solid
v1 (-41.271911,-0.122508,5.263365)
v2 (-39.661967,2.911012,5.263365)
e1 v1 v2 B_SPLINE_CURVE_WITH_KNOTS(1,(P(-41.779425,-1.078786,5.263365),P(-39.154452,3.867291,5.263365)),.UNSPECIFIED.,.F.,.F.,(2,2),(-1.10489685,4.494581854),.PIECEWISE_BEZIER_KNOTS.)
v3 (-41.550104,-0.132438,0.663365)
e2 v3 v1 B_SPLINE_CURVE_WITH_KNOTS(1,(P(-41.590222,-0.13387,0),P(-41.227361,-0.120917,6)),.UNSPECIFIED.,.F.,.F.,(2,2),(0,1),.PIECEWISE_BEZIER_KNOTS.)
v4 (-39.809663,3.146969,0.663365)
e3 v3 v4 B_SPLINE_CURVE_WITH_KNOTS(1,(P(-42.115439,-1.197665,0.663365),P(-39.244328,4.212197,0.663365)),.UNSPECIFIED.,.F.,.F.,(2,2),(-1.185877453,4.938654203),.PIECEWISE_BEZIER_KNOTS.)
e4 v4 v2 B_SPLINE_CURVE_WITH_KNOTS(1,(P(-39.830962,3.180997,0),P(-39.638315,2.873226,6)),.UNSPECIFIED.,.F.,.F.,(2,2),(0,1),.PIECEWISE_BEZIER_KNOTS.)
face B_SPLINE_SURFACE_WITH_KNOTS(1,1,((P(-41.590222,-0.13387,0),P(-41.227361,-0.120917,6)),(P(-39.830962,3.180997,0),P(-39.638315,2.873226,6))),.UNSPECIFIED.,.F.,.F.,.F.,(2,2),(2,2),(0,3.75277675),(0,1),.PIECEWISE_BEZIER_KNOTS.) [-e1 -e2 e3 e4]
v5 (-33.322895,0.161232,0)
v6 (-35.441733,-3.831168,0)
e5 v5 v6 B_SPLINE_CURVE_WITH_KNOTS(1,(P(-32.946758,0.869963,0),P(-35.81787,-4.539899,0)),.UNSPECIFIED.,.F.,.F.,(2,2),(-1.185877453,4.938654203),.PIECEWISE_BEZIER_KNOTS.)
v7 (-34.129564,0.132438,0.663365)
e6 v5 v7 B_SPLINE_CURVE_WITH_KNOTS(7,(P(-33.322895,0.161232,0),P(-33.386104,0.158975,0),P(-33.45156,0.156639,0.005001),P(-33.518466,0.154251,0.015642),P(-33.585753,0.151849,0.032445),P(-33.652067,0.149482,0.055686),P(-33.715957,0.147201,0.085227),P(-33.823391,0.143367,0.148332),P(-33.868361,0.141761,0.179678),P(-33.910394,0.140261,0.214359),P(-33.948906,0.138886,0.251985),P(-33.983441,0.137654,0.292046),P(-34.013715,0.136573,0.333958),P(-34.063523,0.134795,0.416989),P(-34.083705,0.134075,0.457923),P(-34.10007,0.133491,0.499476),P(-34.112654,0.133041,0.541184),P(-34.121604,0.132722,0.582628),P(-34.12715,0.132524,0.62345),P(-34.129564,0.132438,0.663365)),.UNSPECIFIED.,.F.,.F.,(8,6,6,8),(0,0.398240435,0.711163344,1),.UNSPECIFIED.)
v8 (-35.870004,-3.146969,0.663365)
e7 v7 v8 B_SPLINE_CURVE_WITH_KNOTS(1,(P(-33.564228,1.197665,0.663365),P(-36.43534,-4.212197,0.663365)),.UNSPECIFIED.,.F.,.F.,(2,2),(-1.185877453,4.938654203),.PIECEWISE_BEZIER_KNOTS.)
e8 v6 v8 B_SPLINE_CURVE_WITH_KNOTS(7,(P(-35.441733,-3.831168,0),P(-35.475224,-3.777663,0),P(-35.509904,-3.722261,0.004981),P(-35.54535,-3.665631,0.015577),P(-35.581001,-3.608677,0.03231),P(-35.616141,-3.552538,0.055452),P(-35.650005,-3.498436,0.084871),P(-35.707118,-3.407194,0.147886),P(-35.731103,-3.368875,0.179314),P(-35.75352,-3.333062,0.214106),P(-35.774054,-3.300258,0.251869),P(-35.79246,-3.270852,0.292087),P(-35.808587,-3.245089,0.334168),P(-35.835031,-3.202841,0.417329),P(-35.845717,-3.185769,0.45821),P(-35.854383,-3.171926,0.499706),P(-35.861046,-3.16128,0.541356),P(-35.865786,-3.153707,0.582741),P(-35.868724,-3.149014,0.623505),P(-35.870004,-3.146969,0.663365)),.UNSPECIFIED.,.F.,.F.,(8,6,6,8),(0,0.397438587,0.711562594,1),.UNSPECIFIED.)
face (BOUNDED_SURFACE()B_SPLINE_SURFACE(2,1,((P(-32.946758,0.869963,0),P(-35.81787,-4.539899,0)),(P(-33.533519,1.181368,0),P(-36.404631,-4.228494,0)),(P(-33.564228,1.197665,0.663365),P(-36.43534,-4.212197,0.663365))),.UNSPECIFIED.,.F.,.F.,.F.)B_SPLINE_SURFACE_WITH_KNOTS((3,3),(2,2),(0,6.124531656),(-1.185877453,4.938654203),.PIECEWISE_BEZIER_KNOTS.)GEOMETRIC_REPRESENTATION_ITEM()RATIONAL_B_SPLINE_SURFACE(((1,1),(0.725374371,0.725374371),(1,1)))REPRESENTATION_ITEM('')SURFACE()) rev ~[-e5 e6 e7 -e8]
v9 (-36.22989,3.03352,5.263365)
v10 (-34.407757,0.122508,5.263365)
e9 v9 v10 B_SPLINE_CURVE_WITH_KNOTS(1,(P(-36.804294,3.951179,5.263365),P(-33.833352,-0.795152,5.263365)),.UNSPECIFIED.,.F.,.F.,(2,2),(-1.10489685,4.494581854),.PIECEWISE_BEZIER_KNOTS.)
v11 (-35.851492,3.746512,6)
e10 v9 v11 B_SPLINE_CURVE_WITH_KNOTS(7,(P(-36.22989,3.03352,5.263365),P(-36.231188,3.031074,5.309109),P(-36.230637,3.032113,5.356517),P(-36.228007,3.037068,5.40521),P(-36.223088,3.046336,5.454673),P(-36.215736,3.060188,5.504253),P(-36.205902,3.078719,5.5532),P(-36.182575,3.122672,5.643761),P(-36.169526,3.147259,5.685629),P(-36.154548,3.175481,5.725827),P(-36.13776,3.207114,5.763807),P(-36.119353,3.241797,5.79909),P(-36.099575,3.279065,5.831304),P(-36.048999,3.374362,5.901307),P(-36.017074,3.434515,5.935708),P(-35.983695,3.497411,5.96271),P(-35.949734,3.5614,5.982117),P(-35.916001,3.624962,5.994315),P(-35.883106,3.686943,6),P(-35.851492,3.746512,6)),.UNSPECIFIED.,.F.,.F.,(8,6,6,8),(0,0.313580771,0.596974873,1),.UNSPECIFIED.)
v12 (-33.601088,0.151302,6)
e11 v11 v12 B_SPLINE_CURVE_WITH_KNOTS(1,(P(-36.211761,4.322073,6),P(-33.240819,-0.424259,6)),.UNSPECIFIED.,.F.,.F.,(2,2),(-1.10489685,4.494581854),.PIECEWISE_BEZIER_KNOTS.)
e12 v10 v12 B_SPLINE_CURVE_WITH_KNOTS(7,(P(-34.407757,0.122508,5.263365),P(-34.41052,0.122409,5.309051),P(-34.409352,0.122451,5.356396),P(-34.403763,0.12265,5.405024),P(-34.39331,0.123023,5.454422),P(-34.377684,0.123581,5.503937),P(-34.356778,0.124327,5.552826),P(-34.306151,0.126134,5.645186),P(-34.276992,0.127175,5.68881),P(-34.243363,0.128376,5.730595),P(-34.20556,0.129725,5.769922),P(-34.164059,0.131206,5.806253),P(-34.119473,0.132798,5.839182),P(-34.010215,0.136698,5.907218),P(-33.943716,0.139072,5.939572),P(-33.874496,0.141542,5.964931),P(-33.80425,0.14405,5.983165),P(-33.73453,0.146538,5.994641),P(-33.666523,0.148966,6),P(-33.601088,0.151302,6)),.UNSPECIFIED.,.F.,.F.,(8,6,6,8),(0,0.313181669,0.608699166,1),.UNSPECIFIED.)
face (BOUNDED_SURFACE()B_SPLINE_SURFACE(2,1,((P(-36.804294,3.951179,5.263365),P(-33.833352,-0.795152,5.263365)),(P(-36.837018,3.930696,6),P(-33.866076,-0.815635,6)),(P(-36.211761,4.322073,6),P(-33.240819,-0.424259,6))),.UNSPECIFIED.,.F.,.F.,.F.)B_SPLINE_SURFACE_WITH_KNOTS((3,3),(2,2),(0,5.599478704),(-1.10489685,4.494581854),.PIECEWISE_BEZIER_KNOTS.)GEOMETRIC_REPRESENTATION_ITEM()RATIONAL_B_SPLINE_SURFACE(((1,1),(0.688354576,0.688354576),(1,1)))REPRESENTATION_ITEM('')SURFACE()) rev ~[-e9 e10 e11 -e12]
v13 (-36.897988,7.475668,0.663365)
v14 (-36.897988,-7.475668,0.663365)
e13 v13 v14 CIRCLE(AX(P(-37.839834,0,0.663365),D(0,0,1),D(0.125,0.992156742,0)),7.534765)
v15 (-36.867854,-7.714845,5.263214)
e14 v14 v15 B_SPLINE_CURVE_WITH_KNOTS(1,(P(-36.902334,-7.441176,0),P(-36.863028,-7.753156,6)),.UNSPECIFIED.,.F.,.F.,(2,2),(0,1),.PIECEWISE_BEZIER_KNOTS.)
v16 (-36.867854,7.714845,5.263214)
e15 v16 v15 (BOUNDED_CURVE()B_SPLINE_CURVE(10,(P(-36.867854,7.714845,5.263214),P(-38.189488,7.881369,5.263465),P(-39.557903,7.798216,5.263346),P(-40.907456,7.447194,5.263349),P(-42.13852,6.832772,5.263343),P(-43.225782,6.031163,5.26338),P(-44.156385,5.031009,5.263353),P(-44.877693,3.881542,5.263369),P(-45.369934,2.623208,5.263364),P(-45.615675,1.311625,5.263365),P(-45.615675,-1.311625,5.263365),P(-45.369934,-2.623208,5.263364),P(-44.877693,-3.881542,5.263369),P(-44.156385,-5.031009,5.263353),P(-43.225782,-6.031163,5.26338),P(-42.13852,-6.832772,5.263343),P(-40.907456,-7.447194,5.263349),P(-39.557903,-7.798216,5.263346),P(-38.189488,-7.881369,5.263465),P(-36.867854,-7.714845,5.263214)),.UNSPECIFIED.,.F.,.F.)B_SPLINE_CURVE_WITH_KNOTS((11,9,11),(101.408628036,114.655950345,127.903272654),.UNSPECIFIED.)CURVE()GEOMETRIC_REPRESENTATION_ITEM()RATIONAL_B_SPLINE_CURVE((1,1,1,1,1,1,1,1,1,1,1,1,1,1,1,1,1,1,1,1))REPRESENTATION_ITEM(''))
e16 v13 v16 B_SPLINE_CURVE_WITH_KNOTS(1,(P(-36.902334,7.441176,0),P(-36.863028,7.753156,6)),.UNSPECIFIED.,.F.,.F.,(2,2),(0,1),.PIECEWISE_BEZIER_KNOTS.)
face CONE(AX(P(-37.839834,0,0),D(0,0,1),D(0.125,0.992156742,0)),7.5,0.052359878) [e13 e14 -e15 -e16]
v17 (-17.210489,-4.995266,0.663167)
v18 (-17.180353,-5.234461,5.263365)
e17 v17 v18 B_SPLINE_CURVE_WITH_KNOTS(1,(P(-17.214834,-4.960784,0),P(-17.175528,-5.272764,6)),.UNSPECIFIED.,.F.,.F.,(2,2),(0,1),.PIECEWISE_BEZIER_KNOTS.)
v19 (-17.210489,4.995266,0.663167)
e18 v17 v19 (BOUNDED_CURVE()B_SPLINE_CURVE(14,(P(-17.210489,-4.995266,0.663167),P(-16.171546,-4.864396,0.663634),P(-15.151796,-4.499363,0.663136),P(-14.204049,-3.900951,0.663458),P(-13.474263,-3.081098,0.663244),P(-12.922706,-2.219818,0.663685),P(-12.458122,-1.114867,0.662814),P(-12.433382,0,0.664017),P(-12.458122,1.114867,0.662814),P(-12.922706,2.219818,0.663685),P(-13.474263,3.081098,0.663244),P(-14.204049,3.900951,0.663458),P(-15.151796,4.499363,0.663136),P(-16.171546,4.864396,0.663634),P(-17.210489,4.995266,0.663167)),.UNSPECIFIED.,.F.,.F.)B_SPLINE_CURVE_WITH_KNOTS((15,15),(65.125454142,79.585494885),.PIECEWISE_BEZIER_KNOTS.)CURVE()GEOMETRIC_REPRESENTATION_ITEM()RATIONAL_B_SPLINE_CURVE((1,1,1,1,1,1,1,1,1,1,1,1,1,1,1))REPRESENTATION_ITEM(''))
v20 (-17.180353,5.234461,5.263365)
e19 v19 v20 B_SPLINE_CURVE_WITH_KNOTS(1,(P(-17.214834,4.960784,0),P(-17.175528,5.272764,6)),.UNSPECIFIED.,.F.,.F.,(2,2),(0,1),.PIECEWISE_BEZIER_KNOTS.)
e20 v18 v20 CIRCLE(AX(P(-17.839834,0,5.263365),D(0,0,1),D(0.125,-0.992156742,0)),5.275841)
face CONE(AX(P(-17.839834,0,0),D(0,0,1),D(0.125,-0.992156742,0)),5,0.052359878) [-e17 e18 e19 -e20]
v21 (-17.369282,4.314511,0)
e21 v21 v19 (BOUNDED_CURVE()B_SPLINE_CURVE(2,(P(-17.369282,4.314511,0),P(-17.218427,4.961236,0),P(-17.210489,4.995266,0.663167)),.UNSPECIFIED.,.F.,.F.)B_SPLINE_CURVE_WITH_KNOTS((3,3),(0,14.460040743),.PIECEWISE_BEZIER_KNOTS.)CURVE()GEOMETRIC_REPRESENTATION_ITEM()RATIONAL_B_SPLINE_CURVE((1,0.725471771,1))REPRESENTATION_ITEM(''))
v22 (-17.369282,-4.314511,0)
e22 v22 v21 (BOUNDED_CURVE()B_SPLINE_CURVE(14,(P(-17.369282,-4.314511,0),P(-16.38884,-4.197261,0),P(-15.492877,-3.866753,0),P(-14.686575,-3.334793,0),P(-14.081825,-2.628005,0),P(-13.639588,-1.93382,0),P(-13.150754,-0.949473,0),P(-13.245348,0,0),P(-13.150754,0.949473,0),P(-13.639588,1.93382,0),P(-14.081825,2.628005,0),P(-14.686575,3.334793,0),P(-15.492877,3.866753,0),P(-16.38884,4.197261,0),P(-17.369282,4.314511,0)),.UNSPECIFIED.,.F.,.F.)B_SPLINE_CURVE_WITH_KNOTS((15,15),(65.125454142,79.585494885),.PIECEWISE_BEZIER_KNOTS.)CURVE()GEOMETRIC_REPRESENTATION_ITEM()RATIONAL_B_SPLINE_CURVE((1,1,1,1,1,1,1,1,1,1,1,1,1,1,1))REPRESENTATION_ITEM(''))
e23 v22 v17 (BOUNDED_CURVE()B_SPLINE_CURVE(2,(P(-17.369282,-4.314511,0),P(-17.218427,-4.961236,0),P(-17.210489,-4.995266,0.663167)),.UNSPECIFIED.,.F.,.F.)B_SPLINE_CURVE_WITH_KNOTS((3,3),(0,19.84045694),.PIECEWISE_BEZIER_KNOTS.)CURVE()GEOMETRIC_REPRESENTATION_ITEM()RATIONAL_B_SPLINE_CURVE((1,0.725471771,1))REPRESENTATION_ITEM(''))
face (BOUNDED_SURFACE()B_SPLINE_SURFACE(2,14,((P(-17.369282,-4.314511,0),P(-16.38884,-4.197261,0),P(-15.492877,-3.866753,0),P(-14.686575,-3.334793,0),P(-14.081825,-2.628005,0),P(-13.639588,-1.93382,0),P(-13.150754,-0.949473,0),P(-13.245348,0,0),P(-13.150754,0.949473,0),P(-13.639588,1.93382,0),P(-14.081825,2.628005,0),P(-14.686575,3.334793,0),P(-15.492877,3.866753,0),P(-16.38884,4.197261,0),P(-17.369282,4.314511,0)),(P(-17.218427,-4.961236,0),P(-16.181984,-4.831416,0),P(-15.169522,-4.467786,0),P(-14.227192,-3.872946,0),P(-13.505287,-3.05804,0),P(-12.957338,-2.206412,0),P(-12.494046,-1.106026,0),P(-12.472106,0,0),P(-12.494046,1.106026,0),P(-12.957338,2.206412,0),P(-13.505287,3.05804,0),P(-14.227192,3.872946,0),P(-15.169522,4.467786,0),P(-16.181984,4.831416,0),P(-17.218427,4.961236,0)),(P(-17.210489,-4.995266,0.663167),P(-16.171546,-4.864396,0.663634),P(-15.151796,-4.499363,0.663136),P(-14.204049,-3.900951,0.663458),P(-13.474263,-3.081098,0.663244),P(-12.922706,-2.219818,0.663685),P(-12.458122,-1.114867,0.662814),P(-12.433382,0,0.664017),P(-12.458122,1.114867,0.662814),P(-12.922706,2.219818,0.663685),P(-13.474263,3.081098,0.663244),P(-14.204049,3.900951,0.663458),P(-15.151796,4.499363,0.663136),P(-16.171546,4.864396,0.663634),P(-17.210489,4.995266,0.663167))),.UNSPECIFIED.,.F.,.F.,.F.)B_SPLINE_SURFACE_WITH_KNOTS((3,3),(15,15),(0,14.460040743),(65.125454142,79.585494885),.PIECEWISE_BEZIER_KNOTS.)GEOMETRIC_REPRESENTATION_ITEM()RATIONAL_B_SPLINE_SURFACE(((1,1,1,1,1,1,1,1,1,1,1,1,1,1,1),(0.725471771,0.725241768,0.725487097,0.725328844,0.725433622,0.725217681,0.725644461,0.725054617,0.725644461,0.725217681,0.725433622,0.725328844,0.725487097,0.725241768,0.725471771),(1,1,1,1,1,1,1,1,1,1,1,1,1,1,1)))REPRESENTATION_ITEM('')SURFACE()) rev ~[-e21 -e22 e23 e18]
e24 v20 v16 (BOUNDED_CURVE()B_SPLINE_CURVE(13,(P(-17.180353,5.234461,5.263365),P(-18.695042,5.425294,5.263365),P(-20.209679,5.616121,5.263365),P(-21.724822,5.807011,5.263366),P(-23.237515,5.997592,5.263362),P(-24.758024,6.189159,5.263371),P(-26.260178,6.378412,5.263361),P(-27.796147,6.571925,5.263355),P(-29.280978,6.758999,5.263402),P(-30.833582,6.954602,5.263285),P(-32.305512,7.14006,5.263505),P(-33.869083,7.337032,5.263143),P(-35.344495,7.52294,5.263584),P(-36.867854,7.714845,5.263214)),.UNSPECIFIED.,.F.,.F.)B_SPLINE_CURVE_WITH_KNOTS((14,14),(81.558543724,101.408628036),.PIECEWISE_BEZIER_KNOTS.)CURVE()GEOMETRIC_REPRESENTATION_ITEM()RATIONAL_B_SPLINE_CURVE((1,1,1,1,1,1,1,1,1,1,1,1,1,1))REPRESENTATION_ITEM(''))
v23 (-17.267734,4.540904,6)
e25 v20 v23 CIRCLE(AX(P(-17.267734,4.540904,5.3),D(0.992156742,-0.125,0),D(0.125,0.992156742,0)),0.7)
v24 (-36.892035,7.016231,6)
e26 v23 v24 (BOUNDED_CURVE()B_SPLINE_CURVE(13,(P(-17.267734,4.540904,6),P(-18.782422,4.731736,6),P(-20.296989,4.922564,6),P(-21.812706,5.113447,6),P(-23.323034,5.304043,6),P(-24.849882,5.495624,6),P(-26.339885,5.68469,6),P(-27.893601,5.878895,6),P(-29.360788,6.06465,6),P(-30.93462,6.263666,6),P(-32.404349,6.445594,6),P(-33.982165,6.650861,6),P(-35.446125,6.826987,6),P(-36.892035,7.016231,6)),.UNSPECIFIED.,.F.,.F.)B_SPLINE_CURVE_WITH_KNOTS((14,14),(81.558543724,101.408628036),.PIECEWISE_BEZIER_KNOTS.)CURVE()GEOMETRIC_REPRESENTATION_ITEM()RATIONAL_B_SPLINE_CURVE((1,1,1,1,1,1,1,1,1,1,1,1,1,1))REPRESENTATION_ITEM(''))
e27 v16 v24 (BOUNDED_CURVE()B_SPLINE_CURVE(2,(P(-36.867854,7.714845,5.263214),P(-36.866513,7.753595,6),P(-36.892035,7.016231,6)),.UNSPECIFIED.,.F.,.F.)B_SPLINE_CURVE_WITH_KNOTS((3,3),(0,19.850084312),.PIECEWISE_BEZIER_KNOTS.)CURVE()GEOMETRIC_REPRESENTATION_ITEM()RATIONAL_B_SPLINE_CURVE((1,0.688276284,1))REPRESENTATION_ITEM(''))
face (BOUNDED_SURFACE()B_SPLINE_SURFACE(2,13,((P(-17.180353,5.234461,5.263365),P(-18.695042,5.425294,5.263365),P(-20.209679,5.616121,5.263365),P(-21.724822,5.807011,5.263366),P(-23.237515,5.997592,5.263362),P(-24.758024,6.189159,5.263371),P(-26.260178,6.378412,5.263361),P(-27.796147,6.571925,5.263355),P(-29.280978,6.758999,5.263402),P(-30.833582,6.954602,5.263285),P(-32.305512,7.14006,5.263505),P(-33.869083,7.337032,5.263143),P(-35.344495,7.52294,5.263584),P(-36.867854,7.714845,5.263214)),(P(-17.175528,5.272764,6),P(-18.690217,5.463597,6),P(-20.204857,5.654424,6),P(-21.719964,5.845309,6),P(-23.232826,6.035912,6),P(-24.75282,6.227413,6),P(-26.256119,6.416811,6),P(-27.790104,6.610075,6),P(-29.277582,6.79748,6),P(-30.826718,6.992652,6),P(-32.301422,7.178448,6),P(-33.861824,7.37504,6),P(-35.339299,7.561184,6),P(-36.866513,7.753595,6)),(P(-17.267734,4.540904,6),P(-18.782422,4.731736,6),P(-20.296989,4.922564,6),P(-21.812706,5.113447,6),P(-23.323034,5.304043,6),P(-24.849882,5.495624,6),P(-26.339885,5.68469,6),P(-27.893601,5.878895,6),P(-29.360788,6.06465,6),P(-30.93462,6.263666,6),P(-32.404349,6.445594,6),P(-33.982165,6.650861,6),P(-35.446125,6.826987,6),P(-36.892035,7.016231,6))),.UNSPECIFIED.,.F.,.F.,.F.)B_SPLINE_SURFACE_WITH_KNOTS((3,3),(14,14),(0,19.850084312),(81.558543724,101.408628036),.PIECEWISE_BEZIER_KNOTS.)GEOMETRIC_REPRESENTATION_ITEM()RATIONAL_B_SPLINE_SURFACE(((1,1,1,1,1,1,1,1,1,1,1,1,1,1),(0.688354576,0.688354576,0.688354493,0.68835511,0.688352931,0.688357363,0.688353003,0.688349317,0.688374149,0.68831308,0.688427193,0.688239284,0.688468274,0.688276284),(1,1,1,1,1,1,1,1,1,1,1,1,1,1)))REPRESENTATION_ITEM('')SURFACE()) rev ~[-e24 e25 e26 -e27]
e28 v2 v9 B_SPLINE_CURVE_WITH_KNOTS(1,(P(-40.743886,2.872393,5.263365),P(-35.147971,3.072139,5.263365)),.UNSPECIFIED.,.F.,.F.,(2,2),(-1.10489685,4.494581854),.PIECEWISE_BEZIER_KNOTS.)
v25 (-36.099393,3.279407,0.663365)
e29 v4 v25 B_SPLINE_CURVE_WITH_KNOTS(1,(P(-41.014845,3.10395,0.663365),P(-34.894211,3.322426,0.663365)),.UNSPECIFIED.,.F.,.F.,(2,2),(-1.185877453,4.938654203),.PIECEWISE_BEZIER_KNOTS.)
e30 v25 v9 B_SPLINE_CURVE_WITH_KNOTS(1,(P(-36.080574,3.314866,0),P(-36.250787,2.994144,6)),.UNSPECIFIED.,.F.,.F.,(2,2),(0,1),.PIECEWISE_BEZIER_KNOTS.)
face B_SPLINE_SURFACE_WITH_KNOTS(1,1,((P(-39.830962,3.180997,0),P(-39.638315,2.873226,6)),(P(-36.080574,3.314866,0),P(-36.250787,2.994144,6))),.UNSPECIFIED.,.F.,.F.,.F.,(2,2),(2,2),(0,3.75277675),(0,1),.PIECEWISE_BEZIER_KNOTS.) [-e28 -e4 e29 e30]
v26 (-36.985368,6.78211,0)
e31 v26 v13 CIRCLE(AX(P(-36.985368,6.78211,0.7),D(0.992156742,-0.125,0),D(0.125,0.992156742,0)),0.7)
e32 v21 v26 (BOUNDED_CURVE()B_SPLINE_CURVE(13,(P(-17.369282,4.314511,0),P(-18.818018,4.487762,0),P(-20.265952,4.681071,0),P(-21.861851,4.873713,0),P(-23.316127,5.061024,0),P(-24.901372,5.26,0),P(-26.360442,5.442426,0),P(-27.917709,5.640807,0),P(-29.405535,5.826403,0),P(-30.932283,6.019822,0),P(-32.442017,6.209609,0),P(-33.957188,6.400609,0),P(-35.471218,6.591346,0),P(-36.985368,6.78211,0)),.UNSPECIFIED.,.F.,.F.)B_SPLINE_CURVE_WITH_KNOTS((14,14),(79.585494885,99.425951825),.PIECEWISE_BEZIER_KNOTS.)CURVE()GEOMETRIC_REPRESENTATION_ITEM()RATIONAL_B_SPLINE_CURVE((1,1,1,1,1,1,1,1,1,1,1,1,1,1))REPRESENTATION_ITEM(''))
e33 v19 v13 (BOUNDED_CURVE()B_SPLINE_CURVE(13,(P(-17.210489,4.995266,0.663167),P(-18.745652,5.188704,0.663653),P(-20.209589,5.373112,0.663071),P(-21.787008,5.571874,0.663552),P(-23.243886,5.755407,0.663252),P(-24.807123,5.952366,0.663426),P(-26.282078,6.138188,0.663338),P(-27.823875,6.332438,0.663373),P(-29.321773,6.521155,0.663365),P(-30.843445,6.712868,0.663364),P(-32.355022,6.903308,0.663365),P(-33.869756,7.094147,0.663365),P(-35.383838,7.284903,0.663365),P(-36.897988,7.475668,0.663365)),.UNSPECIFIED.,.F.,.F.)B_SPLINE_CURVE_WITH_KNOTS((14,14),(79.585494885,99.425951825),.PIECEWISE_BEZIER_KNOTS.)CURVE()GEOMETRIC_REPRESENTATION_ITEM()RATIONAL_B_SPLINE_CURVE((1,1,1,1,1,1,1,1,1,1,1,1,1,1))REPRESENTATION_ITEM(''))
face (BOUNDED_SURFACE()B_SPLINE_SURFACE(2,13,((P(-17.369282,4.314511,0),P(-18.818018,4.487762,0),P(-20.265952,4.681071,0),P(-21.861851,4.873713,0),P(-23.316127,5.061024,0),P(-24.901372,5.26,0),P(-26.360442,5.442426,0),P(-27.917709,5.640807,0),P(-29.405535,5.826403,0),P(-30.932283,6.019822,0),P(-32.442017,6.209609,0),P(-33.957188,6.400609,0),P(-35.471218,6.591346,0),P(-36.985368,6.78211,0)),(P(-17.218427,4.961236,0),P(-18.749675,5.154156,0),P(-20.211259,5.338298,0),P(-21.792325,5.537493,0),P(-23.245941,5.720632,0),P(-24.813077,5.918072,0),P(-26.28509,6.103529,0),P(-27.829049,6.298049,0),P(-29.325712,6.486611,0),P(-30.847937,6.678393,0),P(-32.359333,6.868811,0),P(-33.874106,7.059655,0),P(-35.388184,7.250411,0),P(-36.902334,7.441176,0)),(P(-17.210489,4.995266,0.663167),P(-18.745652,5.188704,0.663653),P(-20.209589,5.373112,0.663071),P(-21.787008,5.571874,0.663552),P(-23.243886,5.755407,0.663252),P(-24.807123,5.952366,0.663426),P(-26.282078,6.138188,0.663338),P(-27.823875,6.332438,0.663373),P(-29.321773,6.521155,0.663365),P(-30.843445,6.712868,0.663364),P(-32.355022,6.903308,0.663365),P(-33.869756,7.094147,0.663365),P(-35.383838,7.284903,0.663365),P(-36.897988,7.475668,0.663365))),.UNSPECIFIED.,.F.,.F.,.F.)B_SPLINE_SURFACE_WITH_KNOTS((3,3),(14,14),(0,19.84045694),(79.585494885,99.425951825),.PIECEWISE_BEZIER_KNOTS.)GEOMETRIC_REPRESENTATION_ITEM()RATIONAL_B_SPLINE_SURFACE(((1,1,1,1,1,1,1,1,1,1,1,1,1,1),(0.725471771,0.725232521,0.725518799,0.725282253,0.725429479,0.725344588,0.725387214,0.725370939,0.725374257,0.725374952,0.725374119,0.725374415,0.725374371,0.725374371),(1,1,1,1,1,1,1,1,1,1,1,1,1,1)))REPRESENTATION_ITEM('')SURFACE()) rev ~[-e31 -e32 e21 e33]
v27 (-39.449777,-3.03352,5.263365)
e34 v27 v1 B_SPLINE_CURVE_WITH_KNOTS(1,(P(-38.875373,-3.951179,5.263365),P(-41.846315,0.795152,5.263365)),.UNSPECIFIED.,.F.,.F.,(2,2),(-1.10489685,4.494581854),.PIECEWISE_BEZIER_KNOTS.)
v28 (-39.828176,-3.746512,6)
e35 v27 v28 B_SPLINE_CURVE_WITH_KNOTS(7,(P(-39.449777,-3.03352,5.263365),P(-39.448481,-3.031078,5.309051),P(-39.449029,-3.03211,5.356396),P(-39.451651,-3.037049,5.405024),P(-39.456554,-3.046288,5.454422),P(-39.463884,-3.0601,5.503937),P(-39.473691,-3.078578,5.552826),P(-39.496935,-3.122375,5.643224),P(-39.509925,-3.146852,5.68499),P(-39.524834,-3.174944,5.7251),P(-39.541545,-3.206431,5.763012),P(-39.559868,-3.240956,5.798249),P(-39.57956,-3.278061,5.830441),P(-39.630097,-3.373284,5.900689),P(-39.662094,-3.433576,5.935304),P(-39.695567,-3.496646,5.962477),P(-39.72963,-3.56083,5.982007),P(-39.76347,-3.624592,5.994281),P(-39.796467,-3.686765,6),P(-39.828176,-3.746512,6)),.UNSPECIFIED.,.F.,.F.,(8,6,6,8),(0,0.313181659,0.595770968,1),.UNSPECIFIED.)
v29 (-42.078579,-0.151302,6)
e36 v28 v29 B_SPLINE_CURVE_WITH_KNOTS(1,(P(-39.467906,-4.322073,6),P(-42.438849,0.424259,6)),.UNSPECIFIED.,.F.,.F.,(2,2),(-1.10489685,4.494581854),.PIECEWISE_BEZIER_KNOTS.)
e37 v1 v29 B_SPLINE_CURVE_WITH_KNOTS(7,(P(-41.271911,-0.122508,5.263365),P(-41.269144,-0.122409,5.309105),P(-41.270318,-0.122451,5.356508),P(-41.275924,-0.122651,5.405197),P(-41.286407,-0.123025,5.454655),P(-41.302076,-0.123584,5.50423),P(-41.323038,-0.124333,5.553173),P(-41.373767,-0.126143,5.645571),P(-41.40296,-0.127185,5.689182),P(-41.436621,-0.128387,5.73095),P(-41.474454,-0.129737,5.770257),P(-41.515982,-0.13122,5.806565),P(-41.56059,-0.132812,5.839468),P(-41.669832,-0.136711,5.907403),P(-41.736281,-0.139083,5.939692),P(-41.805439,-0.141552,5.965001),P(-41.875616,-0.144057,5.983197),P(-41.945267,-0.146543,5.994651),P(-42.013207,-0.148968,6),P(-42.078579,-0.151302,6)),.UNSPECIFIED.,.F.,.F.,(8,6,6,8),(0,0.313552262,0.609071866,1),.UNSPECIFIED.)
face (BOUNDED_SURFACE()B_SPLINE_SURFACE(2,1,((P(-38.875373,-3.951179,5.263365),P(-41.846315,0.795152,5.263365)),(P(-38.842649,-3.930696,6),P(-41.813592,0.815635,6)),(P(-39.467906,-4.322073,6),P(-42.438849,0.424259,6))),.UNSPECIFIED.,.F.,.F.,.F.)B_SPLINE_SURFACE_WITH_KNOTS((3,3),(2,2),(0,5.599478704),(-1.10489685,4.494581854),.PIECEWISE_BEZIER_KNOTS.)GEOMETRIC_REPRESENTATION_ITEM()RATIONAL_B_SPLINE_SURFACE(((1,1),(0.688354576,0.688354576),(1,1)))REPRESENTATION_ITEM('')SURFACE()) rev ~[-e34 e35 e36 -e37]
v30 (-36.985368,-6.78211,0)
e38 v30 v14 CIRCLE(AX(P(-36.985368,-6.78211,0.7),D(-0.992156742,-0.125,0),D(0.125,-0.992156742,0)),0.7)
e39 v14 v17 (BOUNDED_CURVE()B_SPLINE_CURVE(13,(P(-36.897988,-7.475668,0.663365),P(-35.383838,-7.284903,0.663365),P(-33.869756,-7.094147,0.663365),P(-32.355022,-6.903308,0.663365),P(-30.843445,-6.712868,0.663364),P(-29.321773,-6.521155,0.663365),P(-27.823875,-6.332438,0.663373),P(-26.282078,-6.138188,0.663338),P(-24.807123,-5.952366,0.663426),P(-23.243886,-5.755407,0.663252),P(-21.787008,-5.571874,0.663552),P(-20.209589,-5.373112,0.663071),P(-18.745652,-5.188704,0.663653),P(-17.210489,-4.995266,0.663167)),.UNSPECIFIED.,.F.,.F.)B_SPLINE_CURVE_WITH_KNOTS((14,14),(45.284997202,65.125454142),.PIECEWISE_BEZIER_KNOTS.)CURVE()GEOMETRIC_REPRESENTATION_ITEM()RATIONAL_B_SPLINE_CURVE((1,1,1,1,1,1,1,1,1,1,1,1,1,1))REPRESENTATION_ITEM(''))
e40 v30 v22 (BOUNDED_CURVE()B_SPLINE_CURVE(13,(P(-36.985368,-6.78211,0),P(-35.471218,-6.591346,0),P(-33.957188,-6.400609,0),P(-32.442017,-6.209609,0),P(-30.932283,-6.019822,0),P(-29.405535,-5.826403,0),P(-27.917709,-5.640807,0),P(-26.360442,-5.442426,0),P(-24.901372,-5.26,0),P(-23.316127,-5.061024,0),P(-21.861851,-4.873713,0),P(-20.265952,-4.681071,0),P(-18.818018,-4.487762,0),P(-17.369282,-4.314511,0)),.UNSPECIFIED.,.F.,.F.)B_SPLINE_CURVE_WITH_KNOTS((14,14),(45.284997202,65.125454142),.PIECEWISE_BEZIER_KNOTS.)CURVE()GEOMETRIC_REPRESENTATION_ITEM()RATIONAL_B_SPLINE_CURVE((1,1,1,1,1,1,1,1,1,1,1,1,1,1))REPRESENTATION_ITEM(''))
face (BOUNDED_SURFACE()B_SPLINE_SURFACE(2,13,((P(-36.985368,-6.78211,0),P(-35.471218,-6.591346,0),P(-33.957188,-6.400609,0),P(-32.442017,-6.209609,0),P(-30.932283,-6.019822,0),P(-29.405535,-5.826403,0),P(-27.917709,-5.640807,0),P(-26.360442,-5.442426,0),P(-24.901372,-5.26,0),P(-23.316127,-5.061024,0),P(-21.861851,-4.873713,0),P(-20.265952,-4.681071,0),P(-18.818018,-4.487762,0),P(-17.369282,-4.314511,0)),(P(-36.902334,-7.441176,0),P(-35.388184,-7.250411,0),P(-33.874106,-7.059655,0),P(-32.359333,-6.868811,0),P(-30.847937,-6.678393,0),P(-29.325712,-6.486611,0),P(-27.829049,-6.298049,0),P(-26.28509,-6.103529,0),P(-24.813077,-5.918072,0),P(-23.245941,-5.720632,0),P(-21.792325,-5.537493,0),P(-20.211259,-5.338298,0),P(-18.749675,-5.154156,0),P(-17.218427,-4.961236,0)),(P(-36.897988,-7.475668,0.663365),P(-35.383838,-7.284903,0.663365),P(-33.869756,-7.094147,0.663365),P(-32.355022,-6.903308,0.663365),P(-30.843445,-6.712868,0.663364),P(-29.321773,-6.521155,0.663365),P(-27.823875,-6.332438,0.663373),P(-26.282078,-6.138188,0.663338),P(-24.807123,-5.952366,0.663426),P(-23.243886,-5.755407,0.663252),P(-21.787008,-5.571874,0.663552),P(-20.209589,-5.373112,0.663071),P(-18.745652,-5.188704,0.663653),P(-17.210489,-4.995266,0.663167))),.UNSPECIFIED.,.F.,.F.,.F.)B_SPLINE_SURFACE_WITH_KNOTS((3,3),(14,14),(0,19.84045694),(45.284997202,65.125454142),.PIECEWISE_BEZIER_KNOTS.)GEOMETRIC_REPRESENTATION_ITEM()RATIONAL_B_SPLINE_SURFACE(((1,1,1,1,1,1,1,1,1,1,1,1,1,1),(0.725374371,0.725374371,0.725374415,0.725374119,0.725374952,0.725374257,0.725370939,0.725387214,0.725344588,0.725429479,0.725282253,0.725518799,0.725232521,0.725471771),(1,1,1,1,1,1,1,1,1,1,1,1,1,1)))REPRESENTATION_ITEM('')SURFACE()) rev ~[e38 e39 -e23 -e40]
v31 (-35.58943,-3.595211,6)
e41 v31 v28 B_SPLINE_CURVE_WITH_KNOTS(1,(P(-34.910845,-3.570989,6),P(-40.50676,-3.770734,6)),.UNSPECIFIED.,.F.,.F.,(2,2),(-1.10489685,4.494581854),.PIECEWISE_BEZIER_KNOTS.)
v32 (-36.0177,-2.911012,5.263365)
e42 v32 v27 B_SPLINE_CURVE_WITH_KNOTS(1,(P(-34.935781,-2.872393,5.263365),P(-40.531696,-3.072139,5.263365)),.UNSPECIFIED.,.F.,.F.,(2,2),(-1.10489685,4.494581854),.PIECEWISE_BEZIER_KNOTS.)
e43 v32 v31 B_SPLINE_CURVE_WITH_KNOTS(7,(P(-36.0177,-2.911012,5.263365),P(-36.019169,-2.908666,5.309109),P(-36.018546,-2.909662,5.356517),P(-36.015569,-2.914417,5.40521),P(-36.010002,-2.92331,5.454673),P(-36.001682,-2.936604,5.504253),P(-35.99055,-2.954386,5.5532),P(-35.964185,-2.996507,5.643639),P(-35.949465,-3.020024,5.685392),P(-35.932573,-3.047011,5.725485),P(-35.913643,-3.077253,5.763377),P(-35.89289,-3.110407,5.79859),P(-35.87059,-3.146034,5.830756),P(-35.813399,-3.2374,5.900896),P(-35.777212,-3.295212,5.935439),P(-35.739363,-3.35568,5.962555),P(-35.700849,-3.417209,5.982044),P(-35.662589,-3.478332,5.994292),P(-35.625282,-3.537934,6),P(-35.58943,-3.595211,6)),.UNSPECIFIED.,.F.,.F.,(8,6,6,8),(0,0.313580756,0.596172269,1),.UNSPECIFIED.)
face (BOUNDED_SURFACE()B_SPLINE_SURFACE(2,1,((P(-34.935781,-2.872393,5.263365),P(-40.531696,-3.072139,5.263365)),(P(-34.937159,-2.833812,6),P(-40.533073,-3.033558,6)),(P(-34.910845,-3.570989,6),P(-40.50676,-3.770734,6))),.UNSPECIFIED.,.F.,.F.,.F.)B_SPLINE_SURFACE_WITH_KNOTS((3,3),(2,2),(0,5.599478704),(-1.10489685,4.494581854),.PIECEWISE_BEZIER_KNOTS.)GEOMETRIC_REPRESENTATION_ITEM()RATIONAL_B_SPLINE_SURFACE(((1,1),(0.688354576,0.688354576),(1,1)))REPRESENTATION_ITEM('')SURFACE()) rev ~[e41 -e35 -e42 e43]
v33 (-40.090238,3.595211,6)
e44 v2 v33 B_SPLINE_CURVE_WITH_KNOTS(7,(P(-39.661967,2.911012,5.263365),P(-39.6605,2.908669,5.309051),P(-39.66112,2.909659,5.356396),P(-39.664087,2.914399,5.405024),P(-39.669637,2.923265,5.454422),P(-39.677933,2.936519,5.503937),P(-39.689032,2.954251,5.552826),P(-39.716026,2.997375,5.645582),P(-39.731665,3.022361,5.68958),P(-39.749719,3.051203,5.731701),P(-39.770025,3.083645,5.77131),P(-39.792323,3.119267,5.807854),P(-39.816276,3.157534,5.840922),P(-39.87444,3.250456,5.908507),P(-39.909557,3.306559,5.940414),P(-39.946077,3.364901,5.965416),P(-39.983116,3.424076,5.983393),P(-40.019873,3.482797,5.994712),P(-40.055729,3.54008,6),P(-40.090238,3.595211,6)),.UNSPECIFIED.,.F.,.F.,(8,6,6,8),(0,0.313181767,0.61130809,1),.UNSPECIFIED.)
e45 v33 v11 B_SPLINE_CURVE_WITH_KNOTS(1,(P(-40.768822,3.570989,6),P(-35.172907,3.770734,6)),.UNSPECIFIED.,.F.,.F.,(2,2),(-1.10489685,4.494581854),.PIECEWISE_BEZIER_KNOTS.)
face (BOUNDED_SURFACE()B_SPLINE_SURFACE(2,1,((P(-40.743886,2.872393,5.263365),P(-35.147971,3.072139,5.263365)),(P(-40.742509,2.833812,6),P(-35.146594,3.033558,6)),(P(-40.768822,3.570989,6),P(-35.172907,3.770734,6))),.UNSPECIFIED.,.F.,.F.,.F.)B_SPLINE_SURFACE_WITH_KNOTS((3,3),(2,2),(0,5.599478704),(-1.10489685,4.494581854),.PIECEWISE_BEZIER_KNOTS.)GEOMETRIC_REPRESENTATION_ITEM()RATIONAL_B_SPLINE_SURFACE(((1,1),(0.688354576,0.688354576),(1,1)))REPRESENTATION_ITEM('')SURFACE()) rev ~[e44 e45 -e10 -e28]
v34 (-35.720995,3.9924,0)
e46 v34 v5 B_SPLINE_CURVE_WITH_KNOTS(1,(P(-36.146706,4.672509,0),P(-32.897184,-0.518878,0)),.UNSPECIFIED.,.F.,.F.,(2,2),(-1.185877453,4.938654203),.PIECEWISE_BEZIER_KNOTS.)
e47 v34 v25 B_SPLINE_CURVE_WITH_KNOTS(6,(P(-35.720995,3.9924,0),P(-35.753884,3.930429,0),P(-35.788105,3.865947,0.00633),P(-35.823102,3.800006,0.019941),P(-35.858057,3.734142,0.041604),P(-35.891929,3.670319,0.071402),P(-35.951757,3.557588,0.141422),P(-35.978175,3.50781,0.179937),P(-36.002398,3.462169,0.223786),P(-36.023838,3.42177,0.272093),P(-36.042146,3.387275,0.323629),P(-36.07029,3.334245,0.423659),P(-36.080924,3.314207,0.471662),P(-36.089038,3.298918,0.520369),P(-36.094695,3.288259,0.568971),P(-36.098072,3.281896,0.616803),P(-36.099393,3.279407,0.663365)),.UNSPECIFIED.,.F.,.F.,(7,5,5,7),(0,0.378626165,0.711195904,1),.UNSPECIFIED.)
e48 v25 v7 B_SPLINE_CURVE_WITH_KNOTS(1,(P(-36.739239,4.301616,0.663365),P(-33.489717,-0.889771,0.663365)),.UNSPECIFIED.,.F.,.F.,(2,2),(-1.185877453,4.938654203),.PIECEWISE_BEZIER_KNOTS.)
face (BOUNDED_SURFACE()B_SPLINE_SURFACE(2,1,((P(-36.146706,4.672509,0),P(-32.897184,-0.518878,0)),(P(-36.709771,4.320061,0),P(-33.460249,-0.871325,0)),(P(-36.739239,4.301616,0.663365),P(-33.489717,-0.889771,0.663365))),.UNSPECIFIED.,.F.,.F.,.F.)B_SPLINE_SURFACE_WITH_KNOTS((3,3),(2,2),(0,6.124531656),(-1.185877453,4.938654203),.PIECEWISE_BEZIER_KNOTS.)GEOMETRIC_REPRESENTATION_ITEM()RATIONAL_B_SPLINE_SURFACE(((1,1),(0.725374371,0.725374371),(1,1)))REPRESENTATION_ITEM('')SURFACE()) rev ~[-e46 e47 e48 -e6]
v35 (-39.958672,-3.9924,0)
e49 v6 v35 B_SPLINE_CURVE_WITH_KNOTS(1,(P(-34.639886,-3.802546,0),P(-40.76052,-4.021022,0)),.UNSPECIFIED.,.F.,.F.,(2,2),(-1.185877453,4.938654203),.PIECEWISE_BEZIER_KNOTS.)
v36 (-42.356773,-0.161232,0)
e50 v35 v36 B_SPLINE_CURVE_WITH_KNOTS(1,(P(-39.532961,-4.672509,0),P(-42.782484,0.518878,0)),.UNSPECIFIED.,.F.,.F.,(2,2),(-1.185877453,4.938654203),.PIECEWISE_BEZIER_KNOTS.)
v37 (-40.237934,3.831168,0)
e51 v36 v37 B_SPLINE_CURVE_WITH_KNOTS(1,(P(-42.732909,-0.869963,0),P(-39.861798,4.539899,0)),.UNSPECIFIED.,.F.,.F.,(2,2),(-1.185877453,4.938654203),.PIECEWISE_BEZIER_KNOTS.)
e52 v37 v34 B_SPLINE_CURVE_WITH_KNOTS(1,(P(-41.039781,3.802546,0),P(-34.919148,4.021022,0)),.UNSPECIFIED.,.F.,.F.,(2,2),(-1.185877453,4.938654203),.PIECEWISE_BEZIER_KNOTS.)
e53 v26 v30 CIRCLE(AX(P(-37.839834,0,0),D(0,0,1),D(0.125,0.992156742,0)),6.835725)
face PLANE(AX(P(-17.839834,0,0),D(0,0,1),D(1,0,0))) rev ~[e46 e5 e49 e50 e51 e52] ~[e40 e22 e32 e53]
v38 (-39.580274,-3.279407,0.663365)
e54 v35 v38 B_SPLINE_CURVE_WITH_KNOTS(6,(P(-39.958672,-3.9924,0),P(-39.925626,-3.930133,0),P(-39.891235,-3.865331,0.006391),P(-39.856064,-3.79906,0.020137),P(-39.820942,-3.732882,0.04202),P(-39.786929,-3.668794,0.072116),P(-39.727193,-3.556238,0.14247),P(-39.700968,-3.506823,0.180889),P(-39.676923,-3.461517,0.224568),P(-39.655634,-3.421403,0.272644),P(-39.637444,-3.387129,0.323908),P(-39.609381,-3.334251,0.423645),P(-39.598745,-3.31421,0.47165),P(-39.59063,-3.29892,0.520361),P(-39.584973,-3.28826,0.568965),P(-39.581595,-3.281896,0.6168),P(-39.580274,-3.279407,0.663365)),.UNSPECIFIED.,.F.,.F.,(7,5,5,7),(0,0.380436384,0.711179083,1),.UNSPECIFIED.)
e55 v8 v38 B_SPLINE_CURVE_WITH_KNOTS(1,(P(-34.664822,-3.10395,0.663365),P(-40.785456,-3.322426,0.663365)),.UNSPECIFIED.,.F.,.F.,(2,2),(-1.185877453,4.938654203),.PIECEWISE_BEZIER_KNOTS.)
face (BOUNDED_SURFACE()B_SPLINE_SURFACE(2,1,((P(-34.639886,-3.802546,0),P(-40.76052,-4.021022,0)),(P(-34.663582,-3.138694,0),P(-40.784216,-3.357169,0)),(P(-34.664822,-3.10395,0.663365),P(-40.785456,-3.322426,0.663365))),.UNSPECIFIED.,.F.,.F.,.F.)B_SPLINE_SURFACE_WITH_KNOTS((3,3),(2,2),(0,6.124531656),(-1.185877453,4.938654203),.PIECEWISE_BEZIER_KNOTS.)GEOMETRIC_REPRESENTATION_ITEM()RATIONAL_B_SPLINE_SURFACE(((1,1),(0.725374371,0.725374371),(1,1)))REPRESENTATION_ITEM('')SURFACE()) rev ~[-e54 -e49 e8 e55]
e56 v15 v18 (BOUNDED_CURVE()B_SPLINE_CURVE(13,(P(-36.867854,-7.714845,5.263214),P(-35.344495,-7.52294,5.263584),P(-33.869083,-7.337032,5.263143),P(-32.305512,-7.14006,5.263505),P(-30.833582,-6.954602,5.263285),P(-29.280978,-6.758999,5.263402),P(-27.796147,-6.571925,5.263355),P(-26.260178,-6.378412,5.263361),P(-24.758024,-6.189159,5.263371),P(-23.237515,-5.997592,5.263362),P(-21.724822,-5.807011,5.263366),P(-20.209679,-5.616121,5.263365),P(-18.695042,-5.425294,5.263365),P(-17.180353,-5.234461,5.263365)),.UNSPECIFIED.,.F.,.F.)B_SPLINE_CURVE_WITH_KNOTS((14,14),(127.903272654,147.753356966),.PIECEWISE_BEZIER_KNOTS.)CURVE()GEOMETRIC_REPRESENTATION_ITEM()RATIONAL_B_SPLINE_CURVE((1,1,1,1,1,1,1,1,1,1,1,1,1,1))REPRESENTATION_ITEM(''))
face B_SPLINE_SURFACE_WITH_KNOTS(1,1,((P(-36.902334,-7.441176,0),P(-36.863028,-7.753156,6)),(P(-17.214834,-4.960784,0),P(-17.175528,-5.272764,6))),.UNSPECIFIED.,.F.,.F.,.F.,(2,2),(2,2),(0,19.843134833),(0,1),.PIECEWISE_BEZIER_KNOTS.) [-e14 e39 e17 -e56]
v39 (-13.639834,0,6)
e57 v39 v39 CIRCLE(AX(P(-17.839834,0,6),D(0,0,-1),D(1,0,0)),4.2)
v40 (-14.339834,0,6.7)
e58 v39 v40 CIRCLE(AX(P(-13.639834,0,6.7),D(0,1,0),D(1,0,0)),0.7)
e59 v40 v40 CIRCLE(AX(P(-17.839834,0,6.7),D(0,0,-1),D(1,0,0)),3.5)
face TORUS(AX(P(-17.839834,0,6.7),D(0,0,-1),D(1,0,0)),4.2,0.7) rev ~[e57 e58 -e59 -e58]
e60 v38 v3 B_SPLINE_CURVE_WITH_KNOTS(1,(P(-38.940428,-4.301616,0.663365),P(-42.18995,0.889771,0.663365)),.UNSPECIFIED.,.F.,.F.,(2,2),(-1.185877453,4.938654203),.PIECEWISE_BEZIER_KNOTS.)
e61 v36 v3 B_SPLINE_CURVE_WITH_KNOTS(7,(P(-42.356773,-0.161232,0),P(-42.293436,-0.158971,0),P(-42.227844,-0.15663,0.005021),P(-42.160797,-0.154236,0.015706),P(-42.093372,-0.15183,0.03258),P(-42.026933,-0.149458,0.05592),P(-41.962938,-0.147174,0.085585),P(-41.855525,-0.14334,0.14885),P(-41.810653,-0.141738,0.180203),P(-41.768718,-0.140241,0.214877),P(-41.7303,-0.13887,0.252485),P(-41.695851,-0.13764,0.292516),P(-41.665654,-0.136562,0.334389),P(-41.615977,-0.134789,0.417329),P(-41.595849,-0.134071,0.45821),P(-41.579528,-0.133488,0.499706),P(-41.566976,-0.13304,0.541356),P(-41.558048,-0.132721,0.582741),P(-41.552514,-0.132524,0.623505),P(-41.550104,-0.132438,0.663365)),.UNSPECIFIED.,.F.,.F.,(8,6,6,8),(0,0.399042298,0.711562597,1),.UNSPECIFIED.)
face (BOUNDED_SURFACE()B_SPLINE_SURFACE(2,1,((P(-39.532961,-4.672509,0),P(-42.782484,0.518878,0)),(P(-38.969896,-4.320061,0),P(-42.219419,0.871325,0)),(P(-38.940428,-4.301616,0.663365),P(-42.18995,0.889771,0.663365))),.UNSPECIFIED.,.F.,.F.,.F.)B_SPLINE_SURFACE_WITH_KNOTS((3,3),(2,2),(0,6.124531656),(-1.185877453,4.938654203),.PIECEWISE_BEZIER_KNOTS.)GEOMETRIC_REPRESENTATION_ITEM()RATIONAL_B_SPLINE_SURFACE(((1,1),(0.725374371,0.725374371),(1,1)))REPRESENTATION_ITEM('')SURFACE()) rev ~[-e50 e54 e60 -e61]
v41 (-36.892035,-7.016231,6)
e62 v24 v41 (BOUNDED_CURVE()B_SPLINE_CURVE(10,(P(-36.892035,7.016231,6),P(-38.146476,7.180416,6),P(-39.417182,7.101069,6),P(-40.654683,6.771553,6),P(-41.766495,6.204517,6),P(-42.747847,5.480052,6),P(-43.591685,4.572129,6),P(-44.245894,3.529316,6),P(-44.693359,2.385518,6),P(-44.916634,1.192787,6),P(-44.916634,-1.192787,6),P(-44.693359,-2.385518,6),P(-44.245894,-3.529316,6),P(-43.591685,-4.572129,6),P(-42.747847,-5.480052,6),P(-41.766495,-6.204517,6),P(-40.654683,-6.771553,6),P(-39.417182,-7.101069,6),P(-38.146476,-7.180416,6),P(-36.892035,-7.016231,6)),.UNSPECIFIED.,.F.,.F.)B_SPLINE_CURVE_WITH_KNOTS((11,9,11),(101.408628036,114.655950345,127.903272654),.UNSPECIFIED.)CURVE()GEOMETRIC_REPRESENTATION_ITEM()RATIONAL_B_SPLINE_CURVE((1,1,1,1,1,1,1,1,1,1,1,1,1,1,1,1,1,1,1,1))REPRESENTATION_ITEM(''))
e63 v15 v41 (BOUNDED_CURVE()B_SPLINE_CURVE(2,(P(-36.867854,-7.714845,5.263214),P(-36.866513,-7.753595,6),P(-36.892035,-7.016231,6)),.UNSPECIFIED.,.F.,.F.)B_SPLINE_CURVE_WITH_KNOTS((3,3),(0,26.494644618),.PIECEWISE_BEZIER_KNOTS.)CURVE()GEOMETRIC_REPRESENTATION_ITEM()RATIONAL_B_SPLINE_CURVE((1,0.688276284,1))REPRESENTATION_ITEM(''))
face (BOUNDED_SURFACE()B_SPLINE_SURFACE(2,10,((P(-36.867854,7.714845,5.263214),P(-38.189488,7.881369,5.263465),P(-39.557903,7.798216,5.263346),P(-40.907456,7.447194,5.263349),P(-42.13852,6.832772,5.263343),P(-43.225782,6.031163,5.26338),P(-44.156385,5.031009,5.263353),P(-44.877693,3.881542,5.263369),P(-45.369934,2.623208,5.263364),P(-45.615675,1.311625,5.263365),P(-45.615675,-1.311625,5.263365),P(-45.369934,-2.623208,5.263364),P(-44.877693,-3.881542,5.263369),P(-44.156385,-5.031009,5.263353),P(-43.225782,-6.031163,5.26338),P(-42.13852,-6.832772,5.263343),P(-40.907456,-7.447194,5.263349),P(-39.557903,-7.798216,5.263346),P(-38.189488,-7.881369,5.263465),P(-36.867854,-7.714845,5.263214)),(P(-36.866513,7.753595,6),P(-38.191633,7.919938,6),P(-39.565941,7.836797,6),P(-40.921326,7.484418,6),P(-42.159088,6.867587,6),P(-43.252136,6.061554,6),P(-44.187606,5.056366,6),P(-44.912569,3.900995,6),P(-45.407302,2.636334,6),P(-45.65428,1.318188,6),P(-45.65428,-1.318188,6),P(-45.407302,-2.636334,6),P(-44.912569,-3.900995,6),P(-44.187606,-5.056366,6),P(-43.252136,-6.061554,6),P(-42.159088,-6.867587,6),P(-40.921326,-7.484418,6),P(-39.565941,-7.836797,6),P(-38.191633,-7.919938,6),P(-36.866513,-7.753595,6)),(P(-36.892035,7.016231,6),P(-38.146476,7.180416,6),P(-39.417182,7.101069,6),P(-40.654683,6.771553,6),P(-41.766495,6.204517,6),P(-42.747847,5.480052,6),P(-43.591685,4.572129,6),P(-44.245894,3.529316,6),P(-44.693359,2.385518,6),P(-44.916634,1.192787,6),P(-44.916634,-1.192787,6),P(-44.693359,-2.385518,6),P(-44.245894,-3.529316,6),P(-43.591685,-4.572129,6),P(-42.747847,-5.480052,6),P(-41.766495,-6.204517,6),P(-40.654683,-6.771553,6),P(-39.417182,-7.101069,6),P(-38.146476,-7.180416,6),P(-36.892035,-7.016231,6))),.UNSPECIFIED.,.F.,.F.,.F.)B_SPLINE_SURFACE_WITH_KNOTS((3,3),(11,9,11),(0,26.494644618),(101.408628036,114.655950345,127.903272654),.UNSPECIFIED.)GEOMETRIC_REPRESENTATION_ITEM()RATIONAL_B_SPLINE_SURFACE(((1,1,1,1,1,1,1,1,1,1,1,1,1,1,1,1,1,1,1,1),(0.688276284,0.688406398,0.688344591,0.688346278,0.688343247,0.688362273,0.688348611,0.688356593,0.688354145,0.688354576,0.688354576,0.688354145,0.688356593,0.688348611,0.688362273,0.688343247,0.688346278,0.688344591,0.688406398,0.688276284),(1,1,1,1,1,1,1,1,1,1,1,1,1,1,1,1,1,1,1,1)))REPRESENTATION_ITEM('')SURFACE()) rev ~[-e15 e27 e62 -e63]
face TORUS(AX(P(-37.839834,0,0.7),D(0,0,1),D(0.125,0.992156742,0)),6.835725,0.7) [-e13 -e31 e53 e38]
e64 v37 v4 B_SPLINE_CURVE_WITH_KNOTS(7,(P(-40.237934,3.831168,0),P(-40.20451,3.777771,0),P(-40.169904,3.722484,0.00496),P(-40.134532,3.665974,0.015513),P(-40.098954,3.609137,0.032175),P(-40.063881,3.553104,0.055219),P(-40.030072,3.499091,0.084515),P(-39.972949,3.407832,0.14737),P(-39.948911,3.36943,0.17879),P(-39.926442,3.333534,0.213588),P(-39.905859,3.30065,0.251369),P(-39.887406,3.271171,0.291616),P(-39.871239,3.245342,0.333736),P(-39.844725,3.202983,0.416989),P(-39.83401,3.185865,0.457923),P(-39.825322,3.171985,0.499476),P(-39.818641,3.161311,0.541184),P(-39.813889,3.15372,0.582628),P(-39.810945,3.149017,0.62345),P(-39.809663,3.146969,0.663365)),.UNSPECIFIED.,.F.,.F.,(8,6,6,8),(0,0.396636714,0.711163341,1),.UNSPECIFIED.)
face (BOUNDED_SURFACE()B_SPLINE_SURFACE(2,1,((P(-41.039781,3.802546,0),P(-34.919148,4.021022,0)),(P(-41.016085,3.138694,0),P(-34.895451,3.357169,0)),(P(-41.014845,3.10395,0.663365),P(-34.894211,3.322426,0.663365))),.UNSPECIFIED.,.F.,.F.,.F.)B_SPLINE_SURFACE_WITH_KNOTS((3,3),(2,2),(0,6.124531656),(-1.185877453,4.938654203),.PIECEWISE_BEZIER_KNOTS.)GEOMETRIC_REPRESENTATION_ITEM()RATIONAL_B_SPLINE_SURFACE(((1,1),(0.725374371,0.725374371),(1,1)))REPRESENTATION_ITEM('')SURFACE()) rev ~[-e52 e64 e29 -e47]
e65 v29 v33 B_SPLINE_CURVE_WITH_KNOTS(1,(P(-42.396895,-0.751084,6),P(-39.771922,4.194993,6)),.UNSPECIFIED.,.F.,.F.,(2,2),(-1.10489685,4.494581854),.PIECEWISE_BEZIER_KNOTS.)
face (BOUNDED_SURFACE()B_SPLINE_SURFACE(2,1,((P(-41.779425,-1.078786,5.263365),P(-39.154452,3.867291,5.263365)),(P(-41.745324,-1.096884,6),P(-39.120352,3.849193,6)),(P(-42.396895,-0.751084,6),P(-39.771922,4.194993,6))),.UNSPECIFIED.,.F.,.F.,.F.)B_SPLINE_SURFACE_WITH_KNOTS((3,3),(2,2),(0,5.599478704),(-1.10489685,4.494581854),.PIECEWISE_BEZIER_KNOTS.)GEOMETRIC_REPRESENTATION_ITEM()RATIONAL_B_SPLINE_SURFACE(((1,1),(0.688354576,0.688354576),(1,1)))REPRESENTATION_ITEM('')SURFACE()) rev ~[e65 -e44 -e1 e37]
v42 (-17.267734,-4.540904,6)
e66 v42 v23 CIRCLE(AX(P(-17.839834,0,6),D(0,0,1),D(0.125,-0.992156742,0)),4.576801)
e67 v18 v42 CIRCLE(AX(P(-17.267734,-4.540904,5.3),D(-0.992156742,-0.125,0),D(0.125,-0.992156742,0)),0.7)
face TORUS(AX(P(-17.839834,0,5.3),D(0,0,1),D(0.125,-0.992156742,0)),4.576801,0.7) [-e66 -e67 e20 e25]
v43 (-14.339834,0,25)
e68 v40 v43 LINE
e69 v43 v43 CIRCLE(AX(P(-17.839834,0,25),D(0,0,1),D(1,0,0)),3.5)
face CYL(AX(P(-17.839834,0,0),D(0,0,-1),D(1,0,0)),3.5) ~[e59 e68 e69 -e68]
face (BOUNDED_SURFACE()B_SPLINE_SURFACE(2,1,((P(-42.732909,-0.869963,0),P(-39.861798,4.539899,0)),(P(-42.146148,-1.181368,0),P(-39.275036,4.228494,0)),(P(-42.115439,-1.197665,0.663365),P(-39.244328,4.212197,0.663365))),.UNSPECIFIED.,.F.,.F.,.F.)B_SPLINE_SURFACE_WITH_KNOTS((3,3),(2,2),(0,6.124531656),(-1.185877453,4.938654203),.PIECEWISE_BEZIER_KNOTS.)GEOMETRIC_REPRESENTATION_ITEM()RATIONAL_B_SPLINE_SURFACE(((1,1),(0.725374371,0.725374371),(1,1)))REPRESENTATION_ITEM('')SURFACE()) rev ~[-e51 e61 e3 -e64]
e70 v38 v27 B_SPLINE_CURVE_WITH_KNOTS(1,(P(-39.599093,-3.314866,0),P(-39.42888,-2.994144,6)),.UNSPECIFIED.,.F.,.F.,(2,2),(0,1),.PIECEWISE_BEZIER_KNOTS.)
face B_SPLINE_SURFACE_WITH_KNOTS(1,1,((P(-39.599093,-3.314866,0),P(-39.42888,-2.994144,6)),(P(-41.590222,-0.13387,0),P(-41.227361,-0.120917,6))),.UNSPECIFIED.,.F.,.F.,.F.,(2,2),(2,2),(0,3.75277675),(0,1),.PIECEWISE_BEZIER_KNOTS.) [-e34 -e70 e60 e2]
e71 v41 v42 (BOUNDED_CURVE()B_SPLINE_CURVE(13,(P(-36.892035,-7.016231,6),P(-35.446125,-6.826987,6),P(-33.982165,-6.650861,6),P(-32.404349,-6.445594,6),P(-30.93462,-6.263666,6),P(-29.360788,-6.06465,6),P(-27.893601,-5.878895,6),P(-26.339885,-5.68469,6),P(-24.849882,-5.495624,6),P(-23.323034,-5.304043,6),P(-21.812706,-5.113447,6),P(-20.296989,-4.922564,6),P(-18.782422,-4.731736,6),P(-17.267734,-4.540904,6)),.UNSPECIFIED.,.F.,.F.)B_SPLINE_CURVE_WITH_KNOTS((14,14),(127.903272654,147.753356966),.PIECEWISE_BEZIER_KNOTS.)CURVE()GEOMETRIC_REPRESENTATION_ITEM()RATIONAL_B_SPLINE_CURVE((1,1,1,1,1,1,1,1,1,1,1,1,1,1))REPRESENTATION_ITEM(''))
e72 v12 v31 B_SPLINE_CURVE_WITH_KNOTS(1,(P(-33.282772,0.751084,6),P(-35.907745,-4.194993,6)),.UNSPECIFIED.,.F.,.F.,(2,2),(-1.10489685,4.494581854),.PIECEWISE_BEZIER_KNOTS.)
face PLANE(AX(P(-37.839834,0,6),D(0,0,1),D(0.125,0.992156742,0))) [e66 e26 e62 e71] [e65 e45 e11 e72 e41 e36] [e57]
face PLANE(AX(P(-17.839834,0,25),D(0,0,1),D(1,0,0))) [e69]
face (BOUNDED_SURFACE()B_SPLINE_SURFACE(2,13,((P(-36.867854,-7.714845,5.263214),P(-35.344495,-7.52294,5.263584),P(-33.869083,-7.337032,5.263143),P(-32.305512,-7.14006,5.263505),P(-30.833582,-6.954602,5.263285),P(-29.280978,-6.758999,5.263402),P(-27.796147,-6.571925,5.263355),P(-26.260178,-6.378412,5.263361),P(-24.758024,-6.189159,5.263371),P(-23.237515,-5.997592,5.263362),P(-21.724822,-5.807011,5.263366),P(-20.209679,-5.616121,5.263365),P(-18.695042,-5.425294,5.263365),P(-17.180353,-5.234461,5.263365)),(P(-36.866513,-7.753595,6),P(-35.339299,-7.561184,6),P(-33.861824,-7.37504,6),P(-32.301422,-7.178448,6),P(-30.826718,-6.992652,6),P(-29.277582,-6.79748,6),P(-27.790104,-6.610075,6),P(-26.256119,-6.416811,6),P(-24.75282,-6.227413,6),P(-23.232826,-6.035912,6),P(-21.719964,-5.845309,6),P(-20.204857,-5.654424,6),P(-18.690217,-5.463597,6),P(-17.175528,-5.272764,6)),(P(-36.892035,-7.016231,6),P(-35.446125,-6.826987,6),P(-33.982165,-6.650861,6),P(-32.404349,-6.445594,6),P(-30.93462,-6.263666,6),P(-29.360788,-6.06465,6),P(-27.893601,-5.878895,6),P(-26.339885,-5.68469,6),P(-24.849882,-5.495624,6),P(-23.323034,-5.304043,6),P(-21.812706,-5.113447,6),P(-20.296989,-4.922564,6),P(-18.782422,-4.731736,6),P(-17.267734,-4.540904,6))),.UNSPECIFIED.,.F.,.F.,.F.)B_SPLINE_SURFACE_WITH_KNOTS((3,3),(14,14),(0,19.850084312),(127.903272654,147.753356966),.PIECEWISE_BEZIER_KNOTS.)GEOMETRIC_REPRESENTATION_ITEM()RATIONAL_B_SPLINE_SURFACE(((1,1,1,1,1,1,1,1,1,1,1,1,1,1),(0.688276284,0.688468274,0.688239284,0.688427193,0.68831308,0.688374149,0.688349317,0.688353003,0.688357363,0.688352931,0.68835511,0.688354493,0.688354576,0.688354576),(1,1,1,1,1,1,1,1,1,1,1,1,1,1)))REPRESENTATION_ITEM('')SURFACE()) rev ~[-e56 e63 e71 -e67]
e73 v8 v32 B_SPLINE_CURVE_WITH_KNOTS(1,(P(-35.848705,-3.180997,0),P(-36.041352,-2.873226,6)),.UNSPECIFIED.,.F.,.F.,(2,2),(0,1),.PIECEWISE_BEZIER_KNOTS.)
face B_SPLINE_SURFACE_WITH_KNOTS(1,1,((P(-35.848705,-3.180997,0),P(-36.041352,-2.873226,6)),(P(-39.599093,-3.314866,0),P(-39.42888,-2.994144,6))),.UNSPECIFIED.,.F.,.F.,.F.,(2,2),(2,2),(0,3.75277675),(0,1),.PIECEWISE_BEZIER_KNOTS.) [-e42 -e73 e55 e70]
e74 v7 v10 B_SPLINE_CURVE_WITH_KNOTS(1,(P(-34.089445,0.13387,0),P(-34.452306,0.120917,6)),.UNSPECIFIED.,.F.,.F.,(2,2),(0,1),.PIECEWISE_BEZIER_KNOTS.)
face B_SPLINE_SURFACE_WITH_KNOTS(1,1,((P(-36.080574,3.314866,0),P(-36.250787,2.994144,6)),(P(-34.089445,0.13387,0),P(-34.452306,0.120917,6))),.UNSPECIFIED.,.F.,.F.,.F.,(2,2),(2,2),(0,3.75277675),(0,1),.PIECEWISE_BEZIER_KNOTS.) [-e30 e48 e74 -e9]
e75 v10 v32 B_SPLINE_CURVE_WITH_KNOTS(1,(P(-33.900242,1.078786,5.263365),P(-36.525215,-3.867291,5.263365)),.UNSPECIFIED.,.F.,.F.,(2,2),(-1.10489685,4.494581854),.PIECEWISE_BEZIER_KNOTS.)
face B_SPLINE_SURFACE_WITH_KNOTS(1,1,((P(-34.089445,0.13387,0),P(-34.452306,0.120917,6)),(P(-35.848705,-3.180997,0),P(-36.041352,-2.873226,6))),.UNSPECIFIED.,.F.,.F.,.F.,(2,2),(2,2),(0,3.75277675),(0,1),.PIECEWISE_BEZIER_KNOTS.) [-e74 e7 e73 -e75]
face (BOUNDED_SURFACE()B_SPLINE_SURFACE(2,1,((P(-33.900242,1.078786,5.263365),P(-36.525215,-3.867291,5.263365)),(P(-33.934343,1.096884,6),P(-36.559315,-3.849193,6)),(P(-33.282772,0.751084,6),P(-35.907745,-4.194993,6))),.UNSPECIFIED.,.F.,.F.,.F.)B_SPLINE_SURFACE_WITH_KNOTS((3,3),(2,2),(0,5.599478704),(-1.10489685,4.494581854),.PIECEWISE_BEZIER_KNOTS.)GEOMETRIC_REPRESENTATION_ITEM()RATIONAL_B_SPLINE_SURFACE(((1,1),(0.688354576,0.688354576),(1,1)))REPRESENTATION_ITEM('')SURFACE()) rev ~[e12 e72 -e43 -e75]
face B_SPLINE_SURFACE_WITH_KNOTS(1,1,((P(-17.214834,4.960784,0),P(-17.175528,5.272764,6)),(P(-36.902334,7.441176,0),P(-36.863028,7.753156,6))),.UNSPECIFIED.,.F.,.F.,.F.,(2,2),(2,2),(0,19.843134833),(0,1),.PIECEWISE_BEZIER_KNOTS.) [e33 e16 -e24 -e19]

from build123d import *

# Parameters (mm, degrees)
F0_R     = 3.5
F1_DEPTH = 6
F1_TAPER = -3
F2_DEPTH = 25
F3_R     = 0.7


with BuildPart() as f1:
    # F0 (on Top) → F1 (new body)
    with BuildSketch(Plane.XY):
        with BuildLine():
            Line((-17.214833647, 4.9607837082), (-36.902333647, 7.4411755624))
            ThreePointArc((-36.902333647, 7.4411755624), (-45.339833647, 0), (-36.902333647, -7.4411755624))
            Line((-36.902333647, -7.4411755624), (-17.214833647, -4.9607837082))
            ThreePointArc((-17.214833647, -4.9607837082), (-12.839833647, 0), (-17.214833647, 4.9607837082))
        make_face()
        Polygon((-36.080574115, 3.3148663974), (-34.0894453707, 0.1338697521), (-35.8487049027, -3.1809966452), (-39.599093179, -3.3148663974), (-41.5902219233, -0.1338697521), (-39.8309623913, 3.1809966452), align=None, mode=Mode.SUBTRACT)
        with Locations((-17.839833647, 0)):
            Circle(F0_R, mode=Mode.SUBTRACT)
    extrude(amount=F1_DEPTH, taper=F1_TAPER)

    # F0 (on Top) → F2 (join)
    with BuildSketch(Plane.XY):
        with Locations((-17.839833647, 0)):
            Circle(F0_R)
    extrude(amount=F2_DEPTH)

    # F3
    f3_edges = [f1.edges().sort_by_distance(p)[0] for p in [
        (-27.058584, 6.20098, 0),
        (-45.339834, 0, 0),
        (-27.058584, -6.20098, 0),
        (-12.839834, 0, 0),
        (-40.594658, -1.724368, 0),
        (-40.710592, 1.523563, 0),
        (-37.955768, 3.247932, 0),
        (-35.08501, 1.724368, 0),
        (-34.969075, -1.523563, 0),
        (-37.723899, -3.247932, 0),
        (-27.019278, 6.51296, 6),
        (-45.65428, 0, 6),
        (-27.019278, -6.51296, 6),
        (-12.525387, 0, 6),
        (-21.339834, 0, 6),
        (-40.328121, -1.557531, 6),
        (-37.735116, -2.933685, 6),
        (-40.432838, 1.376154, 6),
        (-35.246829, -1.376154, 6),
        (-37.944551, 2.933685, 6),
        (-35.351547, 1.557531, 6),
    ]]
    fillet(f3_edges, radius=F3_R)


solid = f1.part
